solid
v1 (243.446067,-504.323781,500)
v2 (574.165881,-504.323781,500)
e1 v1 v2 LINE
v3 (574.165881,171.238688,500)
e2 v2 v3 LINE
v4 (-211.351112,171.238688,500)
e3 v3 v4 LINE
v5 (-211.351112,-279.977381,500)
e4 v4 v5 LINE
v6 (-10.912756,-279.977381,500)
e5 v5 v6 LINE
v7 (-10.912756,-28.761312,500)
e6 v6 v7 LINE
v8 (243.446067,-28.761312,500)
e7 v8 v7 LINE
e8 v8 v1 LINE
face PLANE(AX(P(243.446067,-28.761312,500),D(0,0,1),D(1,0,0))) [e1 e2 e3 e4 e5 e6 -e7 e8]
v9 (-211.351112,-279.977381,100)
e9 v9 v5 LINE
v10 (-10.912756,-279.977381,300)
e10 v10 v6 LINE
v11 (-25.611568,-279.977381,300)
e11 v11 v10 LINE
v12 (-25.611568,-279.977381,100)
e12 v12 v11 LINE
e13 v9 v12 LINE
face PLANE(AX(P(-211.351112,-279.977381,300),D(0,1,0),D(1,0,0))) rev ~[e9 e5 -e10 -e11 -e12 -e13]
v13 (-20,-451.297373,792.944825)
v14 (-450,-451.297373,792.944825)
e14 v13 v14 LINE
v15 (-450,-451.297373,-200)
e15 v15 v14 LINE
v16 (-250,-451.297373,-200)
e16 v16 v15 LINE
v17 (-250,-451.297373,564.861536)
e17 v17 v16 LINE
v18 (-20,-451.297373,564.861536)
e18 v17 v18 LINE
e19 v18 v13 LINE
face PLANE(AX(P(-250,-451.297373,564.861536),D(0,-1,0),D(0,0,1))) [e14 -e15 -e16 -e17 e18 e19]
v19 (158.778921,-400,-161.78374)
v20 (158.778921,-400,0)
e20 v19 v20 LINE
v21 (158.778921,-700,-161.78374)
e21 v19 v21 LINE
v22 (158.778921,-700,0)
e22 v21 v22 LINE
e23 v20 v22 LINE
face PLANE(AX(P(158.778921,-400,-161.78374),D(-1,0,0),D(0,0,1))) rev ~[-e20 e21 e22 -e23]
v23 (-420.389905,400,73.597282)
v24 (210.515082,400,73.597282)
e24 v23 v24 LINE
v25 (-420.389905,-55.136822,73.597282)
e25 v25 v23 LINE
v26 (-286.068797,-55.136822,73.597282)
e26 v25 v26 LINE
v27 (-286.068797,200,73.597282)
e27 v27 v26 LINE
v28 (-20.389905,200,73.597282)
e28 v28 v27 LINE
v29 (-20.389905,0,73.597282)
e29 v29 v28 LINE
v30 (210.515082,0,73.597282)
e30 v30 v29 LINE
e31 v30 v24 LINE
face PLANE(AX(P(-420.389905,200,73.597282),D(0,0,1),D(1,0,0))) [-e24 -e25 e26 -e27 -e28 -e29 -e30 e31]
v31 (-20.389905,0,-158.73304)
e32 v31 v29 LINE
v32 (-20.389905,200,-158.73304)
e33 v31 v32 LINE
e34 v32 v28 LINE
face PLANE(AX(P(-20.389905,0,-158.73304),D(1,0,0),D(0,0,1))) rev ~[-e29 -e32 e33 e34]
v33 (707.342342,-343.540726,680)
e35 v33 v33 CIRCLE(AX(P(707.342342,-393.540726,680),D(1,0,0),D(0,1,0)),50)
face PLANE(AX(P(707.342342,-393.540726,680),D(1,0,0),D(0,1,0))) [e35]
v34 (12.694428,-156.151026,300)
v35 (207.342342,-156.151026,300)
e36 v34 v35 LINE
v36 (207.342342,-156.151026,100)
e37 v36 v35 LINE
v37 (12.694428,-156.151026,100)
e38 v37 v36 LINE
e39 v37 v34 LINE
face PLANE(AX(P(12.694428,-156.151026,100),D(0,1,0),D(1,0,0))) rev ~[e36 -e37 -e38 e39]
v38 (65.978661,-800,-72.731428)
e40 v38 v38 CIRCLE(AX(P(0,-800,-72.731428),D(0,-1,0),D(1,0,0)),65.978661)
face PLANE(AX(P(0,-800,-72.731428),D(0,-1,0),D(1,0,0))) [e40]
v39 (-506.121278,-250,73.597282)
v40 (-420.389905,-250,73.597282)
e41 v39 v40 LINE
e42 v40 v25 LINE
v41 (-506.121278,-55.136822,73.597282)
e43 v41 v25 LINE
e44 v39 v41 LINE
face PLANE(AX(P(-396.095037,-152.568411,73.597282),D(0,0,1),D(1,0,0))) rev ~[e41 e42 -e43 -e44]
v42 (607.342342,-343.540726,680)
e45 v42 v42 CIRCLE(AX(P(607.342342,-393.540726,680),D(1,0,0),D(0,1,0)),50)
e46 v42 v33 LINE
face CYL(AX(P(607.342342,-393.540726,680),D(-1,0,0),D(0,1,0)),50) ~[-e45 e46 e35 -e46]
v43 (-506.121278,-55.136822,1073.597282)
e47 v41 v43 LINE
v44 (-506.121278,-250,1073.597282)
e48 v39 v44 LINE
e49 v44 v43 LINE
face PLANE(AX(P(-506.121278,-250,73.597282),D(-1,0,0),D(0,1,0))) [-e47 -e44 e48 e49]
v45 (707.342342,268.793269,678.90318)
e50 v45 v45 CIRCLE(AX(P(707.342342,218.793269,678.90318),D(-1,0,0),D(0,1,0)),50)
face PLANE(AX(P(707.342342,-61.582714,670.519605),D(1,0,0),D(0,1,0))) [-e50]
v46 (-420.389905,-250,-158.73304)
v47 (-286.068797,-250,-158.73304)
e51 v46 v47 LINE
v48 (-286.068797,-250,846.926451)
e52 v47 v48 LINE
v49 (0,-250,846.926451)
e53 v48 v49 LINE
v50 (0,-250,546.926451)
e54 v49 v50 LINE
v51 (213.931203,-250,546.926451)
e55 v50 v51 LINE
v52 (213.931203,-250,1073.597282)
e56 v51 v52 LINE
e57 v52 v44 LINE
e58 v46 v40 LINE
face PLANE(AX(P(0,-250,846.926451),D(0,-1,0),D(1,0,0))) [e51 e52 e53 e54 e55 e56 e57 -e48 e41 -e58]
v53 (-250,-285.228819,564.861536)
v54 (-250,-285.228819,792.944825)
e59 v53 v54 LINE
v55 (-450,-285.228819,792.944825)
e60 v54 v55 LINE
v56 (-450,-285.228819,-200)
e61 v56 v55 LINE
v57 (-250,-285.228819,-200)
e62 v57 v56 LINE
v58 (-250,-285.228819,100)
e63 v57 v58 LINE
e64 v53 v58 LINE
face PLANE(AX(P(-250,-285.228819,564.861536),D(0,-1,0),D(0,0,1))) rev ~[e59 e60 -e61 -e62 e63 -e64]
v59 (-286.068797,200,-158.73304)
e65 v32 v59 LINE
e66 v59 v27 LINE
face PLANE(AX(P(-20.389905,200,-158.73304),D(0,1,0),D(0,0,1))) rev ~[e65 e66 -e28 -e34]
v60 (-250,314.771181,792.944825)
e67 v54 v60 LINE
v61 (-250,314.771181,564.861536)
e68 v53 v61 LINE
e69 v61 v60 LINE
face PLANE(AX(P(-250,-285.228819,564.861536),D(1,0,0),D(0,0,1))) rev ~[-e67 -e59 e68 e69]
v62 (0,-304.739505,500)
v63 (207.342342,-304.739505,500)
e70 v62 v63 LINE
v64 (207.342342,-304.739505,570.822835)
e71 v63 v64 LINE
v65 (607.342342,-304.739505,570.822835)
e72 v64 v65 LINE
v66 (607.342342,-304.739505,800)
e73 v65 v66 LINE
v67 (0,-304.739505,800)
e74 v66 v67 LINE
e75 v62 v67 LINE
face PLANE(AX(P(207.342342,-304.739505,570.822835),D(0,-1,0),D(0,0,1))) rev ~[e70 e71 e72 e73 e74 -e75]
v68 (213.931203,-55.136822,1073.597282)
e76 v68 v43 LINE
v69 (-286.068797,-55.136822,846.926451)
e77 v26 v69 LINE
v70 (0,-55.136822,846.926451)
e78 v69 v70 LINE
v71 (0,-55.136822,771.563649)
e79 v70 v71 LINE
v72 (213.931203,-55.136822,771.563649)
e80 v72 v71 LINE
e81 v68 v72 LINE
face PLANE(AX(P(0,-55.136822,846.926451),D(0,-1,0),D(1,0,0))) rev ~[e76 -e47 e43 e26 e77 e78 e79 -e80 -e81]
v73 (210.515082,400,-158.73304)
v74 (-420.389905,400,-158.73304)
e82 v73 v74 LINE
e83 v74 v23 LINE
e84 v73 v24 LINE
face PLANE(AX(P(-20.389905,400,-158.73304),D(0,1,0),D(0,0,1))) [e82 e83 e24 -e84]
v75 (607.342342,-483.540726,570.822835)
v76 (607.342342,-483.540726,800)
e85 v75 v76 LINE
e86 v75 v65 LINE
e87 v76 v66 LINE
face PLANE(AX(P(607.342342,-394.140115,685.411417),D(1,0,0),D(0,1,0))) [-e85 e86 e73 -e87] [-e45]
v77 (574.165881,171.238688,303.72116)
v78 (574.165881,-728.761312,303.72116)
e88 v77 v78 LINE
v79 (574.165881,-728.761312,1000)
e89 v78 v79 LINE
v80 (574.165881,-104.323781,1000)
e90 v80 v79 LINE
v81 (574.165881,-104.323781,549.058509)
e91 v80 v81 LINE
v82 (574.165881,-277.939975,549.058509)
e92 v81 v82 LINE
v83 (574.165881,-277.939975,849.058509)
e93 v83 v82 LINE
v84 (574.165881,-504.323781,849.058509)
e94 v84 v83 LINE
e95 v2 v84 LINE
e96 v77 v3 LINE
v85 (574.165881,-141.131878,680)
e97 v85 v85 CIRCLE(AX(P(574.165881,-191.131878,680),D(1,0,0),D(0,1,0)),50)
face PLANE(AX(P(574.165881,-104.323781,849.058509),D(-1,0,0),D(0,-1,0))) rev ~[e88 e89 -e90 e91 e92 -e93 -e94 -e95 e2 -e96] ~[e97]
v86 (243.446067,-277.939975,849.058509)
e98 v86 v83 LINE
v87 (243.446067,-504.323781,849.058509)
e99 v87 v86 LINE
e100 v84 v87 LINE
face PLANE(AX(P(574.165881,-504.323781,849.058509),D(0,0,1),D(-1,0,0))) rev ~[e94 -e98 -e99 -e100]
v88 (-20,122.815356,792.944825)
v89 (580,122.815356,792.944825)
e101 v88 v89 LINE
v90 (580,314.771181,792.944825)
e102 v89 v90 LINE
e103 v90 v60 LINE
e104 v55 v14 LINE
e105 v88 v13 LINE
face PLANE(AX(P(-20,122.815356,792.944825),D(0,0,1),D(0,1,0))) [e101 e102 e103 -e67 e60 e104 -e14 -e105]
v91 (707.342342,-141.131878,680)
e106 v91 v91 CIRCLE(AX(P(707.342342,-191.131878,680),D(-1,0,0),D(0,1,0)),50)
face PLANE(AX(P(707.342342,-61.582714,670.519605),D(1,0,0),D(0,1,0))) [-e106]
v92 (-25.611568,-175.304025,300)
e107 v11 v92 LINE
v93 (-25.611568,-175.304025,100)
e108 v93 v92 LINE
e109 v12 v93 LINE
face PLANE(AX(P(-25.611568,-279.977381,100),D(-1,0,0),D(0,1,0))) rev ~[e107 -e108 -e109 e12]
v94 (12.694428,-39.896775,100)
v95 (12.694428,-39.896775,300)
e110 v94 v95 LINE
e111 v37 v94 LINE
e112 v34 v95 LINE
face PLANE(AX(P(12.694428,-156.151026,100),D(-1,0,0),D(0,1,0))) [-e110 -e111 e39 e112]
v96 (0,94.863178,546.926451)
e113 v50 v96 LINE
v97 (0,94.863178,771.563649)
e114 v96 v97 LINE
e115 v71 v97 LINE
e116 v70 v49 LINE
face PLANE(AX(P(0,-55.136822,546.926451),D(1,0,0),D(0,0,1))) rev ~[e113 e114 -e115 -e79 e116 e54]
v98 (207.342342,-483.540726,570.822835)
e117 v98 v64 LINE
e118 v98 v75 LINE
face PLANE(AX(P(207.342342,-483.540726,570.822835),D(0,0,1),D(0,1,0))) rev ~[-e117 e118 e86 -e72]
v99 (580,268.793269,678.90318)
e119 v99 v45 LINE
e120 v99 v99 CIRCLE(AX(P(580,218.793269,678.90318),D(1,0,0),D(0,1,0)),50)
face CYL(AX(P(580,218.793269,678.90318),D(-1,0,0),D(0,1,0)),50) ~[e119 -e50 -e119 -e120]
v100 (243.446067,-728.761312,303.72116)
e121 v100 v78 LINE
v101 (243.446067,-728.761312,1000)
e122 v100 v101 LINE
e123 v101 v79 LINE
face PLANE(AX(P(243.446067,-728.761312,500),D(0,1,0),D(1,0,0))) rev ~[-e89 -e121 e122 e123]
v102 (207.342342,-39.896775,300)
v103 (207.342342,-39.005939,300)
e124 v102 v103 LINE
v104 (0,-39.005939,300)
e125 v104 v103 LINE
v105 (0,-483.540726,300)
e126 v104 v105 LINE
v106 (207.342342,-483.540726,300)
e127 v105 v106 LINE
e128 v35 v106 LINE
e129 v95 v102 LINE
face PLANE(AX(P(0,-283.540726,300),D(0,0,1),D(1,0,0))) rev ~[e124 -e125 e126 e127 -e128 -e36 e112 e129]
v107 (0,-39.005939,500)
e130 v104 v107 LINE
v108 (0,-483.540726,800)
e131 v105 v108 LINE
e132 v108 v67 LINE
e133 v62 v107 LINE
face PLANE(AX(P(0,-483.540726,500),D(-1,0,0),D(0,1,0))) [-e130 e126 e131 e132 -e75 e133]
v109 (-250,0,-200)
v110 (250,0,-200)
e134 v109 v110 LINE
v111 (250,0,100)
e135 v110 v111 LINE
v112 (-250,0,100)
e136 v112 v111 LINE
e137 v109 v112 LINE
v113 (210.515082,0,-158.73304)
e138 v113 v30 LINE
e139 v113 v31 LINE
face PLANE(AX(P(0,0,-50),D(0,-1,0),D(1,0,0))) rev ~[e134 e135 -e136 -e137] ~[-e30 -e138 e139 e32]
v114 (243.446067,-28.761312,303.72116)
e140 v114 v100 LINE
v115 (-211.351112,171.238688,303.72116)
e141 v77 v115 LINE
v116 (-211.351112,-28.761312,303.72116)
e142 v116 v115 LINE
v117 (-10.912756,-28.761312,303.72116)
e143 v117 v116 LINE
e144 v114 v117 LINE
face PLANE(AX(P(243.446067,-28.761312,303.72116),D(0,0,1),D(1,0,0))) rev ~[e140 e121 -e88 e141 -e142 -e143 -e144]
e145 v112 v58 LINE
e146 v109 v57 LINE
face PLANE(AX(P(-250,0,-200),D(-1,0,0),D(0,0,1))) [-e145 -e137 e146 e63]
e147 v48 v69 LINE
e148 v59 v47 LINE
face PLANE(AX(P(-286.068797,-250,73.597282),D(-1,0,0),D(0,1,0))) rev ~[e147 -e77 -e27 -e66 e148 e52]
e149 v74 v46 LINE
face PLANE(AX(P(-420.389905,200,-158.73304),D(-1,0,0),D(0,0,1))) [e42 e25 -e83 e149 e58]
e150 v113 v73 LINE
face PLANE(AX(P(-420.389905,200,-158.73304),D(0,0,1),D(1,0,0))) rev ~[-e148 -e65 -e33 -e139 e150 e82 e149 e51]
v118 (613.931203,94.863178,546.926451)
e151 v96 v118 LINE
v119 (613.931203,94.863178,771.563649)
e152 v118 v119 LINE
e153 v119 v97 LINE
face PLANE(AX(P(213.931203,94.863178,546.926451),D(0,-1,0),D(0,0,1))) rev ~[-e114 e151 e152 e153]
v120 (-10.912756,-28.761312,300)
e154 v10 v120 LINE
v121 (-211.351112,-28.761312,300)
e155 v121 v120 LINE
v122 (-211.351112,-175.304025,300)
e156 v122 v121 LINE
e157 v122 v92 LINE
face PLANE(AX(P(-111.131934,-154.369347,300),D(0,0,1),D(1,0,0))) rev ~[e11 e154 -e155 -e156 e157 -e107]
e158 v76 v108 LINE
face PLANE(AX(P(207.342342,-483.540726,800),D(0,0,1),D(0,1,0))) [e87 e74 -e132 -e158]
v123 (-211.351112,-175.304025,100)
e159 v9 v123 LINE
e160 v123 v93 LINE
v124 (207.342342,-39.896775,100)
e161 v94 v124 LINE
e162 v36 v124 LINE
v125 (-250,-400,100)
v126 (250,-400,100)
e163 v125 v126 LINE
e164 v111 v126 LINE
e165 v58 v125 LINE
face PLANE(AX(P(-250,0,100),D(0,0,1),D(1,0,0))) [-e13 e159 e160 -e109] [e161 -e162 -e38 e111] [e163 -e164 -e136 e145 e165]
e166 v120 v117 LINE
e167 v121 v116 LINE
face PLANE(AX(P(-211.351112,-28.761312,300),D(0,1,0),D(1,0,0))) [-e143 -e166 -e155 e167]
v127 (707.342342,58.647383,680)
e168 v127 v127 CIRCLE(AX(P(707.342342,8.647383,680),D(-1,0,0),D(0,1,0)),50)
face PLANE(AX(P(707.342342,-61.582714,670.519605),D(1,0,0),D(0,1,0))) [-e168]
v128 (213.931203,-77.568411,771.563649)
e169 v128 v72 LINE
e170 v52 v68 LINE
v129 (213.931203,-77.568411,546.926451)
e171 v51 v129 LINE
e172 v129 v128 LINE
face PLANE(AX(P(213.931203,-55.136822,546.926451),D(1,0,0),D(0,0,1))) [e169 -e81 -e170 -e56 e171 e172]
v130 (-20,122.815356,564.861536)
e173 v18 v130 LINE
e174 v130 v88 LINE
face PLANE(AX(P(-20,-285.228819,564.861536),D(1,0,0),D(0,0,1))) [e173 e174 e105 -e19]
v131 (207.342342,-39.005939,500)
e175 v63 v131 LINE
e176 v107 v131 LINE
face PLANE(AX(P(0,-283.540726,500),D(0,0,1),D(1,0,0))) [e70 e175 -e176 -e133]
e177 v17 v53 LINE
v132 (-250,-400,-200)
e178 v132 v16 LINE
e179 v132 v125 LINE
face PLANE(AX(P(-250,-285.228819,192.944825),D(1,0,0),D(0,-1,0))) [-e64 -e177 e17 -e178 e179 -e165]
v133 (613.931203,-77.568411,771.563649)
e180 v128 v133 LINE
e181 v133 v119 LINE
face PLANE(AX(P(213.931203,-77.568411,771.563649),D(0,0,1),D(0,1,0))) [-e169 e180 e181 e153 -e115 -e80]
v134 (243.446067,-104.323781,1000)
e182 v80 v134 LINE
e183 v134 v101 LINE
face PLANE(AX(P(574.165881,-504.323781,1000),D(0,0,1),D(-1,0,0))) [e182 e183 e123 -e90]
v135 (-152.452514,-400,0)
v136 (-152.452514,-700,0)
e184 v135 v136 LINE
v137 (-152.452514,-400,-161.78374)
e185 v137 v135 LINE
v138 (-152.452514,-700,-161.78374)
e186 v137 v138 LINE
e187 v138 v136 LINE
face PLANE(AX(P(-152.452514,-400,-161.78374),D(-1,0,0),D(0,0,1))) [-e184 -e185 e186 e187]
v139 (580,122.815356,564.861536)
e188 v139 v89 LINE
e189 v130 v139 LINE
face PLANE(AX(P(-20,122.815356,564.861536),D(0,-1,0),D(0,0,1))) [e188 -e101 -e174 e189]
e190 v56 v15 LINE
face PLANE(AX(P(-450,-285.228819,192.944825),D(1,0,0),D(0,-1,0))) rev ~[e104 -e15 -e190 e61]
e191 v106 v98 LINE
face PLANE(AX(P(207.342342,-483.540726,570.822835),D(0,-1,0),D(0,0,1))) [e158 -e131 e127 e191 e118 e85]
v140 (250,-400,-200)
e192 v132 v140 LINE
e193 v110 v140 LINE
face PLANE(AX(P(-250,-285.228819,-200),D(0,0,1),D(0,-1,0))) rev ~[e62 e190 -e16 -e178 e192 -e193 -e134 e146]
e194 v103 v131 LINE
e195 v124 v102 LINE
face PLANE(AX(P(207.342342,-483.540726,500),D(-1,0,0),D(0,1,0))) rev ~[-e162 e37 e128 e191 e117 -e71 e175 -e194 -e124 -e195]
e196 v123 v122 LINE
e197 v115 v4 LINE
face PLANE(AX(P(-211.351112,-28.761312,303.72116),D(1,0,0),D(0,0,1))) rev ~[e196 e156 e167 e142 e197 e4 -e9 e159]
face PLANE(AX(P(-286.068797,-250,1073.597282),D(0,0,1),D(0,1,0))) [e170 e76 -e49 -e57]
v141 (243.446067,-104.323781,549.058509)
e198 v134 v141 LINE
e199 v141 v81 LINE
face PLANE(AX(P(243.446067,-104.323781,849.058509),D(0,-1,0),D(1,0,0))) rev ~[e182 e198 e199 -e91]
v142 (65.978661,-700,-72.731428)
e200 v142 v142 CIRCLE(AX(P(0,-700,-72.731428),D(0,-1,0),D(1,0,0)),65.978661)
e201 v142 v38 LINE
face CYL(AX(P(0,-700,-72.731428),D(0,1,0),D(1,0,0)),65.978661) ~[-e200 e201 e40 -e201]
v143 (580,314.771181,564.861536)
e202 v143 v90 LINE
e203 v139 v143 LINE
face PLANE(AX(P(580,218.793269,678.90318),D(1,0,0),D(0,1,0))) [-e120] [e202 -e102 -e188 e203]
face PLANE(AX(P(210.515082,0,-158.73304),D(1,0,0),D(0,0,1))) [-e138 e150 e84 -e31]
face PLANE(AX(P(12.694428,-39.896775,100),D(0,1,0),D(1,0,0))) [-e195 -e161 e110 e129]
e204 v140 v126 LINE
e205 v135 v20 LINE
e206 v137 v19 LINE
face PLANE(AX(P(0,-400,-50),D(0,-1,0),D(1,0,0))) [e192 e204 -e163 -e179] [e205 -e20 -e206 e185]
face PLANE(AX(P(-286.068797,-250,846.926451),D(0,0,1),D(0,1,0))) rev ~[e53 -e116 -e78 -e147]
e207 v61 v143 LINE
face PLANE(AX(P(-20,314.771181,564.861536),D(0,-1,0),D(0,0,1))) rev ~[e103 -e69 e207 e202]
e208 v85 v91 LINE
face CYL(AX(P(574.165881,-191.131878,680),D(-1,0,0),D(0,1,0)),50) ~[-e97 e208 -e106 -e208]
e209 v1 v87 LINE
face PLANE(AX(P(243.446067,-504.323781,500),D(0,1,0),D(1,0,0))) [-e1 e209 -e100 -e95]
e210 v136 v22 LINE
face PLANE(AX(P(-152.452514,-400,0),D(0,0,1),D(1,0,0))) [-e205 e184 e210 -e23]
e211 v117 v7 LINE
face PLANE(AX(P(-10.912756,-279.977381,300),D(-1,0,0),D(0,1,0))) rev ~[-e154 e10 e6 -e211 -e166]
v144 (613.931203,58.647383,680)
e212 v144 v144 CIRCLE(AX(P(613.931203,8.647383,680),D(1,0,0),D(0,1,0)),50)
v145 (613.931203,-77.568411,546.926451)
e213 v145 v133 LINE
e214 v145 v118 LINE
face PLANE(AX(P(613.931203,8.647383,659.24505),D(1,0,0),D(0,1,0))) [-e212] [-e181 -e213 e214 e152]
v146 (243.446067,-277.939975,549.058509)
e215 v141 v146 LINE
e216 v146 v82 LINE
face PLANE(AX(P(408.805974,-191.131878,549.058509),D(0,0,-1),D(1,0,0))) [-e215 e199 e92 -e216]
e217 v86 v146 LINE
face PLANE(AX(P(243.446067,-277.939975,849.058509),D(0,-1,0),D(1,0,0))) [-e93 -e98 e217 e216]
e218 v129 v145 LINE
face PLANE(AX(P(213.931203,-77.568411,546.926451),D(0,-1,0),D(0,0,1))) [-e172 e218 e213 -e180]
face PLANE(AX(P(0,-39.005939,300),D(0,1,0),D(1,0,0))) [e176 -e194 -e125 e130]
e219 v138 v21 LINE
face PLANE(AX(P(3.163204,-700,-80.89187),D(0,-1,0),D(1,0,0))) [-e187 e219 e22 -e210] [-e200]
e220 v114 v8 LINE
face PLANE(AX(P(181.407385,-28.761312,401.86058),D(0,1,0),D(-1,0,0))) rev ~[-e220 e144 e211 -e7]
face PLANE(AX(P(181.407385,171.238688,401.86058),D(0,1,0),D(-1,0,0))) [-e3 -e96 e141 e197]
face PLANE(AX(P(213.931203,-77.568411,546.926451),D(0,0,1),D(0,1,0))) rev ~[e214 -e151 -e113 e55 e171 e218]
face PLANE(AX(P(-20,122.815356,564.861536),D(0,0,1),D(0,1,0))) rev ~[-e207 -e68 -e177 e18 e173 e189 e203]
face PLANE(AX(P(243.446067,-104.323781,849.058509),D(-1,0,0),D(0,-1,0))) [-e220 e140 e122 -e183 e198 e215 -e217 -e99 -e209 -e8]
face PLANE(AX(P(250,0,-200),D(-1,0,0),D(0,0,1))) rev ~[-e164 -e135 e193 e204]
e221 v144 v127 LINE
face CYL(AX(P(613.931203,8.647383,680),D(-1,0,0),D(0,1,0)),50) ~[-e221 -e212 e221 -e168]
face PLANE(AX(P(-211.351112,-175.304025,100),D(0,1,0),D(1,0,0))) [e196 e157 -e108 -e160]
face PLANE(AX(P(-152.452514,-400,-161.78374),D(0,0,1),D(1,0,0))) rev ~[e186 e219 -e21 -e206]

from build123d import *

# Parameters (mm, degrees)
F0_W      = 500
F0_H      = 300
F1_DEPTH  = 400
F2_W      = 194.6479137987
F2_H      = 116.2542514503
F2_W_2    = 185.7395432889
F2_H_2    = 104.6733558178
F3_DEPTH  = 200
F4_W      = 200.438356027
F4_H      = 251.2160688639
F4_W_2    = 207.3423415422
F4_H_2    = 244.5347867906
F5_DEPTH  = 200
F6_W      = 311.2314343452
F6_H      = 161.7837399244
F7_DEPTH  = 300
F8_W      = 785.5169922113
F8_H      = 196.2788403034
F9_DEPTH  = 200
F10_DEPTH = 200
F11_W     = 207.3423415422
F11_H     = 178.8012206554
F12_DEPTH = 300
F13_W     = 330.7198137045
F13_H     = 196.2788403034
F14_DEPTH = 700
F15_W     = 178.8012206554
F15_H     = 229.1771650314
F16_DEPTH = 400
F17_W     = 166.0685539246
F17_H     = 392.9448246956
F18_DEPTH = 200
F19_DEPTH = 600
F20_W     = 166.0685539246
F20_H     = 228.0832886696
F21_DEPTH = 230
F22_W     = 230
F22_H     = 228.0832886696
F23_DEPTH = 600
F24_W     = 191.9558256865
F24_H     = 228.0832886696
F25_DEPTH = 600
F26_W     = 330.7198137045
F26_H     = 224.4375318289
F27_DEPTH = 500
F28_W     = 330.7198137045
F28_H     = 150.941491127
F29_DEPTH = 400
F30_W     = 330.7198137045
F30_H     = 173.616194725
F31_DEPTH = 300
F32_W     = 230.9049870819
F32_H     = 232.3303222656
F33_DEPTH = 400
F34_W     = 200
F34_H     = 232.3303222656
F35_DEPTH = 400
F36_W     = 134.3211080879
F36_H     = 232.3303222656
F37_DEPTH = 450
F38_W     = 220.0524806976
F38_H     = 194.8631778359
F39_DEPTH = 1000
F40_W     = 194.8631778359
F40_H     = 226.6708314419
F41_DEPTH = 500
F42_W     = 213.9312028885
F42_H     = 194.8631778359
F43_DEPTH = 300
F44_W     = 213.9312028885
F44_H     = 224.6371984482
F45_DEPTH = 150
F46_W     = 172.431588918
F46_H     = 224.6371984482
F47_DEPTH = 400
F48_R     = 65.9786612065
F49_DEPTH = 100
F50_R     = 50
F51_DEPTH = 100
F52_R     = 50
F53_DEPTH = 200
F54_R     = 50
F55_DEPTH = 200
F56_R     = 50
F57_DEPTH = 200
F58_W     = 1393.2492136955
F58_H     = 511.3118588924
F58_R     = 50
F59_DEPTH = 200


with BuildPart() as f1:
    # F0 (on Front) → F1 (new body)
    with BuildSketch(Plane.XZ):
        with Locations((0, -50)):
            Rectangle(F0_W, F0_H)
    extrude(amount=F1_DEPTH)

    # F2 (on face) → F3 (join)
    with BuildSketch(Plane.XY.offset(100)):
        with Locations((110.0183846429, -98.0239007622)):
            Rectangle(F2_W, F2_H)
        with Locations((-118.4813398868, -227.6407033205)):
            Rectangle(F2_W_2, F2_H_2)
    extrude(amount=F3_DEPTH)

    # F4 (on face) → F5 (join)
    with BuildSketch(Plane.XY.offset(300)):
        with Locations((-111.1319335178, -154.3693467975)):
            Rectangle(F4_W, F4_H)
        with Locations((103.6711707711, -161.2733323127)):
            Rectangle(F4_W_2, F4_H_2)
    extrude(amount=F5_DEPTH)

    # F6 (on face) → F7 (join)
    with BuildSketch(Plane.XZ.offset(400)):
        with Locations((3.1632035971, -80.8918699622)):
            Rectangle(F6_W, F6_H)
    extrude(amount=F7_DEPTH)

    # F8 (on face) → F9 (join)
    with BuildSketch(Plane(origin=(0, -28.7613123655, 0), x_dir=(-1, 0, 0), z_dir=(0, 1, 0))):
        with Locations((-181.4073845744, 401.8605798483)):
            Rectangle(F8_W, F8_H)
    extrude(amount=F9_DEPTH)

    # F10 (add): a face of the model
    f10_faces = [f1.faces().sort_by_distance(p)[0] for p in [
        (103.6711707711, -283.540725708, 400),
    ]]
    extrude(f10_faces, amount=F10_DEPTH)

    # F11 (on face) → F12 (join)
    with BuildSketch(Plane.XY.offset(500)):
        with Locations((103.6711707711, -394.1401153803)):
            Rectangle(F11_W, F11_H)
    extrude(amount=F12_DEPTH)

    # F13 (on face) → F14 (join)
    with BuildSketch(Plane.XZ.offset(28.7613123655)):
        with Locations((408.8059738278, 401.8605798483)):
            Rectangle(F13_W, F13_H)
    extrude(amount=F14_DEPTH)

    # F15 (on face) → F16 (join)
    with BuildSketch(Plane.YZ.offset(207.3423415422)):
        with Locations((-394.1401153803, 685.4114174843)):
            Rectangle(F15_W, F15_H)
    extrude(amount=F16_DEPTH)

    # F17 (on face) → F18 (join)
    with BuildSketch(Plane(origin=(-250, 0, 0), x_dir=(0, -1, 0), z_dir=(-1, 0, 0))):
        with Locations((368.2630956173, -3.5275876522)):
            Rectangle(F17_W, F17_H)
    extrude(amount=F18_DEPTH)

    # F19 (add): a face of the model
    f19_faces = [f1.faces().sort_by_distance(p)[0] for p in [
        (-350, -368.2630956173, 192.9448246956),
    ]]
    extrude(f19_faces, amount=F19_DEPTH)

    # F20 (on face) → F21 (join)
    with BuildSketch(Plane.YZ.offset(-250)):
        with Locations((-368.2630956173, 678.9031803608)):
            Rectangle(F20_W, F20_H)
    extrude(amount=F21_DEPTH)

    # F22 (on face) → F23 (join)
    with BuildSketch(Plane(origin=(0, -285.228818655, 0), x_dir=(-1, 0, 0), z_dir=(0, 1, 0))):
        with Locations((135, 678.9031803608)):
            Rectangle(F22_W, F22_H)
    extrude(amount=F23_DEPTH)

    # F24 (on face) → F25 (join)
    with BuildSketch(Plane.YZ.offset(-20)):
        with Locations((218.7932685018, 678.9031803608)):
            Rectangle(F24_W, F24_H)
    extrude(amount=F25_DEPTH)

    # F26 (on face) → F27 (join)
    with BuildSketch(Plane.XY.offset(500)):
        with Locations((408.8059738278, -616.5425464511)):
            Rectangle(F26_W, F26_H)
    extrude(amount=F27_DEPTH)

    # F28 (on face) → F29 (join)
    with BuildSketch(Plane(origin=(0, -504.3237805367, 0), x_dir=(-1, 0, 0), z_dir=(0, 1, 0))):
        with Locations((-408.8059738278, 924.5292544365)):
            Rectangle(F28_W, F28_H)
    extrude(amount=F29_DEPTH)

    # F30 (on face) → F31 (join)
    with BuildSketch(Plane(origin=(0, 0, 849.058508873), x_dir=(1, 0, 0), z_dir=(0, 0, -1))):
        with Locations((408.8059738278, 191.1318778992)):
            Rectangle(F30_W, F30_H)
    extrude(amount=F31_DEPTH)

    # F32 (on face) → F33 (join)
    with BuildSketch(Plane(origin=(0, 0, 0), x_dir=(-1, 0, 0), z_dir=(0, 1, 0))):
        with Locations((-95.0625883415, -42.5678789616)):
            Rectangle(F32_W, F32_H)
    extrude(amount=F33_DEPTH)

    # F34 (on face) → F35 (join)
    with BuildSketch(Plane(origin=(-20.3899051994, 0, 0), x_dir=(0, -1, 0), z_dir=(-1, 0, 0))):
        with Locations((-300, -42.5678789616)):
            Rectangle(F34_W, F34_H)
    extrude(amount=F35_DEPTH)

    # F36 (on face) → F37 (join)
    with BuildSketch(Plane.XZ.offset(-200)):
        with Locations((-353.2293511555, -42.5678789616)):
            Rectangle(F36_W, F36_H)
    extrude(amount=F37_DEPTH)

    # F38 (on face) → F39 (join)
    with BuildSketch(Plane.XY.offset(73.5972821712)):
        with Locations((-396.0950374603, -152.568411082)):
            Rectangle(F38_W, F38_H)
    extrude(amount=F39_DEPTH)

    # F40 (on face) → F41 (join)
    with BuildSketch(Plane.YZ.offset(-286.0687971115)):
        with Locations((-152.568411082, 960.2618664503)):
            Rectangle(F40_W, F40_H)
    extrude(amount=F41_DEPTH)

    # F42 (on face) → F43 (join)
    with BuildSketch(Plane(origin=(0, 0, 846.9264507294), x_dir=(1, 0, 0), z_dir=(0, 0, -1))):
        with Locations((106.9656014442, 152.568411082)):
            Rectangle(F42_W, F42_H)
    extrude(amount=F43_DEPTH)

    # F44 (on face) → F45 (join)
    with BuildSketch(Plane(origin=(0, -55.1368221641, 0), x_dir=(-1, 0, 0), z_dir=(0, 1, 0))):
        with Locations((-106.9656014442, 659.2450499535)):
            Rectangle(F44_W, F44_H)
    extrude(amount=F45_DEPTH)

    # F46 (on face) → F47 (join)
    with BuildSketch(Plane.YZ.offset(213.9312028885)):
        with Locations((8.647383377, 659.2450499535)):
            Rectangle(F46_W, F46_H)
    extrude(amount=F47_DEPTH)

    # F48 (on face) → F49 (join)
    with BuildSketch(Plane.XZ.offset(700)):
        with Locations((0, -72.7314278483)):
            Circle(F48_R)
    extrude(amount=F49_DEPTH)

    # F50 (on face) → F51 (join)
    with BuildSketch(Plane.YZ.offset(607.3423415422)):
        with Locations((-393.540725708, 680)):
            Circle(F50_R)
    extrude(amount=F51_DEPTH)

    # F52 (on face) → F53 (join)
    with BuildSketch(Plane.YZ.offset(574.1658806801)):
        with Locations((-191.1318778992, 680)):
            Circle(F52_R)
    extrude(amount=F53_DEPTH)

    # F54 (on face) → F55 (join)
    with BuildSketch(Plane.YZ.offset(613.9312028885)):
        with Locations((8.647383377, 680)):
            Circle(F54_R)
    extrude(amount=F55_DEPTH)

    # F56 (on face) → F57 (join)
    with BuildSketch(Plane.YZ.offset(580)):
        with Locations((218.7932685018, 678.9031803608)):
            Circle(F56_R)
    extrude(amount=F57_DEPTH)

    # F58 (on face) → F59 (cut)
    with BuildSketch(Plane.YZ.offset(707.3423415422)):
        with Locations((-61.5827143192, 670.519605279)):
            Rectangle(F58_W, F58_H)
        with Locations((-393.540725708, 680)):
            Circle(F58_R, mode=Mode.SUBTRACT)
    extrude(amount=F59_DEPTH, mode=Mode.SUBTRACT)


solid = f1.part
